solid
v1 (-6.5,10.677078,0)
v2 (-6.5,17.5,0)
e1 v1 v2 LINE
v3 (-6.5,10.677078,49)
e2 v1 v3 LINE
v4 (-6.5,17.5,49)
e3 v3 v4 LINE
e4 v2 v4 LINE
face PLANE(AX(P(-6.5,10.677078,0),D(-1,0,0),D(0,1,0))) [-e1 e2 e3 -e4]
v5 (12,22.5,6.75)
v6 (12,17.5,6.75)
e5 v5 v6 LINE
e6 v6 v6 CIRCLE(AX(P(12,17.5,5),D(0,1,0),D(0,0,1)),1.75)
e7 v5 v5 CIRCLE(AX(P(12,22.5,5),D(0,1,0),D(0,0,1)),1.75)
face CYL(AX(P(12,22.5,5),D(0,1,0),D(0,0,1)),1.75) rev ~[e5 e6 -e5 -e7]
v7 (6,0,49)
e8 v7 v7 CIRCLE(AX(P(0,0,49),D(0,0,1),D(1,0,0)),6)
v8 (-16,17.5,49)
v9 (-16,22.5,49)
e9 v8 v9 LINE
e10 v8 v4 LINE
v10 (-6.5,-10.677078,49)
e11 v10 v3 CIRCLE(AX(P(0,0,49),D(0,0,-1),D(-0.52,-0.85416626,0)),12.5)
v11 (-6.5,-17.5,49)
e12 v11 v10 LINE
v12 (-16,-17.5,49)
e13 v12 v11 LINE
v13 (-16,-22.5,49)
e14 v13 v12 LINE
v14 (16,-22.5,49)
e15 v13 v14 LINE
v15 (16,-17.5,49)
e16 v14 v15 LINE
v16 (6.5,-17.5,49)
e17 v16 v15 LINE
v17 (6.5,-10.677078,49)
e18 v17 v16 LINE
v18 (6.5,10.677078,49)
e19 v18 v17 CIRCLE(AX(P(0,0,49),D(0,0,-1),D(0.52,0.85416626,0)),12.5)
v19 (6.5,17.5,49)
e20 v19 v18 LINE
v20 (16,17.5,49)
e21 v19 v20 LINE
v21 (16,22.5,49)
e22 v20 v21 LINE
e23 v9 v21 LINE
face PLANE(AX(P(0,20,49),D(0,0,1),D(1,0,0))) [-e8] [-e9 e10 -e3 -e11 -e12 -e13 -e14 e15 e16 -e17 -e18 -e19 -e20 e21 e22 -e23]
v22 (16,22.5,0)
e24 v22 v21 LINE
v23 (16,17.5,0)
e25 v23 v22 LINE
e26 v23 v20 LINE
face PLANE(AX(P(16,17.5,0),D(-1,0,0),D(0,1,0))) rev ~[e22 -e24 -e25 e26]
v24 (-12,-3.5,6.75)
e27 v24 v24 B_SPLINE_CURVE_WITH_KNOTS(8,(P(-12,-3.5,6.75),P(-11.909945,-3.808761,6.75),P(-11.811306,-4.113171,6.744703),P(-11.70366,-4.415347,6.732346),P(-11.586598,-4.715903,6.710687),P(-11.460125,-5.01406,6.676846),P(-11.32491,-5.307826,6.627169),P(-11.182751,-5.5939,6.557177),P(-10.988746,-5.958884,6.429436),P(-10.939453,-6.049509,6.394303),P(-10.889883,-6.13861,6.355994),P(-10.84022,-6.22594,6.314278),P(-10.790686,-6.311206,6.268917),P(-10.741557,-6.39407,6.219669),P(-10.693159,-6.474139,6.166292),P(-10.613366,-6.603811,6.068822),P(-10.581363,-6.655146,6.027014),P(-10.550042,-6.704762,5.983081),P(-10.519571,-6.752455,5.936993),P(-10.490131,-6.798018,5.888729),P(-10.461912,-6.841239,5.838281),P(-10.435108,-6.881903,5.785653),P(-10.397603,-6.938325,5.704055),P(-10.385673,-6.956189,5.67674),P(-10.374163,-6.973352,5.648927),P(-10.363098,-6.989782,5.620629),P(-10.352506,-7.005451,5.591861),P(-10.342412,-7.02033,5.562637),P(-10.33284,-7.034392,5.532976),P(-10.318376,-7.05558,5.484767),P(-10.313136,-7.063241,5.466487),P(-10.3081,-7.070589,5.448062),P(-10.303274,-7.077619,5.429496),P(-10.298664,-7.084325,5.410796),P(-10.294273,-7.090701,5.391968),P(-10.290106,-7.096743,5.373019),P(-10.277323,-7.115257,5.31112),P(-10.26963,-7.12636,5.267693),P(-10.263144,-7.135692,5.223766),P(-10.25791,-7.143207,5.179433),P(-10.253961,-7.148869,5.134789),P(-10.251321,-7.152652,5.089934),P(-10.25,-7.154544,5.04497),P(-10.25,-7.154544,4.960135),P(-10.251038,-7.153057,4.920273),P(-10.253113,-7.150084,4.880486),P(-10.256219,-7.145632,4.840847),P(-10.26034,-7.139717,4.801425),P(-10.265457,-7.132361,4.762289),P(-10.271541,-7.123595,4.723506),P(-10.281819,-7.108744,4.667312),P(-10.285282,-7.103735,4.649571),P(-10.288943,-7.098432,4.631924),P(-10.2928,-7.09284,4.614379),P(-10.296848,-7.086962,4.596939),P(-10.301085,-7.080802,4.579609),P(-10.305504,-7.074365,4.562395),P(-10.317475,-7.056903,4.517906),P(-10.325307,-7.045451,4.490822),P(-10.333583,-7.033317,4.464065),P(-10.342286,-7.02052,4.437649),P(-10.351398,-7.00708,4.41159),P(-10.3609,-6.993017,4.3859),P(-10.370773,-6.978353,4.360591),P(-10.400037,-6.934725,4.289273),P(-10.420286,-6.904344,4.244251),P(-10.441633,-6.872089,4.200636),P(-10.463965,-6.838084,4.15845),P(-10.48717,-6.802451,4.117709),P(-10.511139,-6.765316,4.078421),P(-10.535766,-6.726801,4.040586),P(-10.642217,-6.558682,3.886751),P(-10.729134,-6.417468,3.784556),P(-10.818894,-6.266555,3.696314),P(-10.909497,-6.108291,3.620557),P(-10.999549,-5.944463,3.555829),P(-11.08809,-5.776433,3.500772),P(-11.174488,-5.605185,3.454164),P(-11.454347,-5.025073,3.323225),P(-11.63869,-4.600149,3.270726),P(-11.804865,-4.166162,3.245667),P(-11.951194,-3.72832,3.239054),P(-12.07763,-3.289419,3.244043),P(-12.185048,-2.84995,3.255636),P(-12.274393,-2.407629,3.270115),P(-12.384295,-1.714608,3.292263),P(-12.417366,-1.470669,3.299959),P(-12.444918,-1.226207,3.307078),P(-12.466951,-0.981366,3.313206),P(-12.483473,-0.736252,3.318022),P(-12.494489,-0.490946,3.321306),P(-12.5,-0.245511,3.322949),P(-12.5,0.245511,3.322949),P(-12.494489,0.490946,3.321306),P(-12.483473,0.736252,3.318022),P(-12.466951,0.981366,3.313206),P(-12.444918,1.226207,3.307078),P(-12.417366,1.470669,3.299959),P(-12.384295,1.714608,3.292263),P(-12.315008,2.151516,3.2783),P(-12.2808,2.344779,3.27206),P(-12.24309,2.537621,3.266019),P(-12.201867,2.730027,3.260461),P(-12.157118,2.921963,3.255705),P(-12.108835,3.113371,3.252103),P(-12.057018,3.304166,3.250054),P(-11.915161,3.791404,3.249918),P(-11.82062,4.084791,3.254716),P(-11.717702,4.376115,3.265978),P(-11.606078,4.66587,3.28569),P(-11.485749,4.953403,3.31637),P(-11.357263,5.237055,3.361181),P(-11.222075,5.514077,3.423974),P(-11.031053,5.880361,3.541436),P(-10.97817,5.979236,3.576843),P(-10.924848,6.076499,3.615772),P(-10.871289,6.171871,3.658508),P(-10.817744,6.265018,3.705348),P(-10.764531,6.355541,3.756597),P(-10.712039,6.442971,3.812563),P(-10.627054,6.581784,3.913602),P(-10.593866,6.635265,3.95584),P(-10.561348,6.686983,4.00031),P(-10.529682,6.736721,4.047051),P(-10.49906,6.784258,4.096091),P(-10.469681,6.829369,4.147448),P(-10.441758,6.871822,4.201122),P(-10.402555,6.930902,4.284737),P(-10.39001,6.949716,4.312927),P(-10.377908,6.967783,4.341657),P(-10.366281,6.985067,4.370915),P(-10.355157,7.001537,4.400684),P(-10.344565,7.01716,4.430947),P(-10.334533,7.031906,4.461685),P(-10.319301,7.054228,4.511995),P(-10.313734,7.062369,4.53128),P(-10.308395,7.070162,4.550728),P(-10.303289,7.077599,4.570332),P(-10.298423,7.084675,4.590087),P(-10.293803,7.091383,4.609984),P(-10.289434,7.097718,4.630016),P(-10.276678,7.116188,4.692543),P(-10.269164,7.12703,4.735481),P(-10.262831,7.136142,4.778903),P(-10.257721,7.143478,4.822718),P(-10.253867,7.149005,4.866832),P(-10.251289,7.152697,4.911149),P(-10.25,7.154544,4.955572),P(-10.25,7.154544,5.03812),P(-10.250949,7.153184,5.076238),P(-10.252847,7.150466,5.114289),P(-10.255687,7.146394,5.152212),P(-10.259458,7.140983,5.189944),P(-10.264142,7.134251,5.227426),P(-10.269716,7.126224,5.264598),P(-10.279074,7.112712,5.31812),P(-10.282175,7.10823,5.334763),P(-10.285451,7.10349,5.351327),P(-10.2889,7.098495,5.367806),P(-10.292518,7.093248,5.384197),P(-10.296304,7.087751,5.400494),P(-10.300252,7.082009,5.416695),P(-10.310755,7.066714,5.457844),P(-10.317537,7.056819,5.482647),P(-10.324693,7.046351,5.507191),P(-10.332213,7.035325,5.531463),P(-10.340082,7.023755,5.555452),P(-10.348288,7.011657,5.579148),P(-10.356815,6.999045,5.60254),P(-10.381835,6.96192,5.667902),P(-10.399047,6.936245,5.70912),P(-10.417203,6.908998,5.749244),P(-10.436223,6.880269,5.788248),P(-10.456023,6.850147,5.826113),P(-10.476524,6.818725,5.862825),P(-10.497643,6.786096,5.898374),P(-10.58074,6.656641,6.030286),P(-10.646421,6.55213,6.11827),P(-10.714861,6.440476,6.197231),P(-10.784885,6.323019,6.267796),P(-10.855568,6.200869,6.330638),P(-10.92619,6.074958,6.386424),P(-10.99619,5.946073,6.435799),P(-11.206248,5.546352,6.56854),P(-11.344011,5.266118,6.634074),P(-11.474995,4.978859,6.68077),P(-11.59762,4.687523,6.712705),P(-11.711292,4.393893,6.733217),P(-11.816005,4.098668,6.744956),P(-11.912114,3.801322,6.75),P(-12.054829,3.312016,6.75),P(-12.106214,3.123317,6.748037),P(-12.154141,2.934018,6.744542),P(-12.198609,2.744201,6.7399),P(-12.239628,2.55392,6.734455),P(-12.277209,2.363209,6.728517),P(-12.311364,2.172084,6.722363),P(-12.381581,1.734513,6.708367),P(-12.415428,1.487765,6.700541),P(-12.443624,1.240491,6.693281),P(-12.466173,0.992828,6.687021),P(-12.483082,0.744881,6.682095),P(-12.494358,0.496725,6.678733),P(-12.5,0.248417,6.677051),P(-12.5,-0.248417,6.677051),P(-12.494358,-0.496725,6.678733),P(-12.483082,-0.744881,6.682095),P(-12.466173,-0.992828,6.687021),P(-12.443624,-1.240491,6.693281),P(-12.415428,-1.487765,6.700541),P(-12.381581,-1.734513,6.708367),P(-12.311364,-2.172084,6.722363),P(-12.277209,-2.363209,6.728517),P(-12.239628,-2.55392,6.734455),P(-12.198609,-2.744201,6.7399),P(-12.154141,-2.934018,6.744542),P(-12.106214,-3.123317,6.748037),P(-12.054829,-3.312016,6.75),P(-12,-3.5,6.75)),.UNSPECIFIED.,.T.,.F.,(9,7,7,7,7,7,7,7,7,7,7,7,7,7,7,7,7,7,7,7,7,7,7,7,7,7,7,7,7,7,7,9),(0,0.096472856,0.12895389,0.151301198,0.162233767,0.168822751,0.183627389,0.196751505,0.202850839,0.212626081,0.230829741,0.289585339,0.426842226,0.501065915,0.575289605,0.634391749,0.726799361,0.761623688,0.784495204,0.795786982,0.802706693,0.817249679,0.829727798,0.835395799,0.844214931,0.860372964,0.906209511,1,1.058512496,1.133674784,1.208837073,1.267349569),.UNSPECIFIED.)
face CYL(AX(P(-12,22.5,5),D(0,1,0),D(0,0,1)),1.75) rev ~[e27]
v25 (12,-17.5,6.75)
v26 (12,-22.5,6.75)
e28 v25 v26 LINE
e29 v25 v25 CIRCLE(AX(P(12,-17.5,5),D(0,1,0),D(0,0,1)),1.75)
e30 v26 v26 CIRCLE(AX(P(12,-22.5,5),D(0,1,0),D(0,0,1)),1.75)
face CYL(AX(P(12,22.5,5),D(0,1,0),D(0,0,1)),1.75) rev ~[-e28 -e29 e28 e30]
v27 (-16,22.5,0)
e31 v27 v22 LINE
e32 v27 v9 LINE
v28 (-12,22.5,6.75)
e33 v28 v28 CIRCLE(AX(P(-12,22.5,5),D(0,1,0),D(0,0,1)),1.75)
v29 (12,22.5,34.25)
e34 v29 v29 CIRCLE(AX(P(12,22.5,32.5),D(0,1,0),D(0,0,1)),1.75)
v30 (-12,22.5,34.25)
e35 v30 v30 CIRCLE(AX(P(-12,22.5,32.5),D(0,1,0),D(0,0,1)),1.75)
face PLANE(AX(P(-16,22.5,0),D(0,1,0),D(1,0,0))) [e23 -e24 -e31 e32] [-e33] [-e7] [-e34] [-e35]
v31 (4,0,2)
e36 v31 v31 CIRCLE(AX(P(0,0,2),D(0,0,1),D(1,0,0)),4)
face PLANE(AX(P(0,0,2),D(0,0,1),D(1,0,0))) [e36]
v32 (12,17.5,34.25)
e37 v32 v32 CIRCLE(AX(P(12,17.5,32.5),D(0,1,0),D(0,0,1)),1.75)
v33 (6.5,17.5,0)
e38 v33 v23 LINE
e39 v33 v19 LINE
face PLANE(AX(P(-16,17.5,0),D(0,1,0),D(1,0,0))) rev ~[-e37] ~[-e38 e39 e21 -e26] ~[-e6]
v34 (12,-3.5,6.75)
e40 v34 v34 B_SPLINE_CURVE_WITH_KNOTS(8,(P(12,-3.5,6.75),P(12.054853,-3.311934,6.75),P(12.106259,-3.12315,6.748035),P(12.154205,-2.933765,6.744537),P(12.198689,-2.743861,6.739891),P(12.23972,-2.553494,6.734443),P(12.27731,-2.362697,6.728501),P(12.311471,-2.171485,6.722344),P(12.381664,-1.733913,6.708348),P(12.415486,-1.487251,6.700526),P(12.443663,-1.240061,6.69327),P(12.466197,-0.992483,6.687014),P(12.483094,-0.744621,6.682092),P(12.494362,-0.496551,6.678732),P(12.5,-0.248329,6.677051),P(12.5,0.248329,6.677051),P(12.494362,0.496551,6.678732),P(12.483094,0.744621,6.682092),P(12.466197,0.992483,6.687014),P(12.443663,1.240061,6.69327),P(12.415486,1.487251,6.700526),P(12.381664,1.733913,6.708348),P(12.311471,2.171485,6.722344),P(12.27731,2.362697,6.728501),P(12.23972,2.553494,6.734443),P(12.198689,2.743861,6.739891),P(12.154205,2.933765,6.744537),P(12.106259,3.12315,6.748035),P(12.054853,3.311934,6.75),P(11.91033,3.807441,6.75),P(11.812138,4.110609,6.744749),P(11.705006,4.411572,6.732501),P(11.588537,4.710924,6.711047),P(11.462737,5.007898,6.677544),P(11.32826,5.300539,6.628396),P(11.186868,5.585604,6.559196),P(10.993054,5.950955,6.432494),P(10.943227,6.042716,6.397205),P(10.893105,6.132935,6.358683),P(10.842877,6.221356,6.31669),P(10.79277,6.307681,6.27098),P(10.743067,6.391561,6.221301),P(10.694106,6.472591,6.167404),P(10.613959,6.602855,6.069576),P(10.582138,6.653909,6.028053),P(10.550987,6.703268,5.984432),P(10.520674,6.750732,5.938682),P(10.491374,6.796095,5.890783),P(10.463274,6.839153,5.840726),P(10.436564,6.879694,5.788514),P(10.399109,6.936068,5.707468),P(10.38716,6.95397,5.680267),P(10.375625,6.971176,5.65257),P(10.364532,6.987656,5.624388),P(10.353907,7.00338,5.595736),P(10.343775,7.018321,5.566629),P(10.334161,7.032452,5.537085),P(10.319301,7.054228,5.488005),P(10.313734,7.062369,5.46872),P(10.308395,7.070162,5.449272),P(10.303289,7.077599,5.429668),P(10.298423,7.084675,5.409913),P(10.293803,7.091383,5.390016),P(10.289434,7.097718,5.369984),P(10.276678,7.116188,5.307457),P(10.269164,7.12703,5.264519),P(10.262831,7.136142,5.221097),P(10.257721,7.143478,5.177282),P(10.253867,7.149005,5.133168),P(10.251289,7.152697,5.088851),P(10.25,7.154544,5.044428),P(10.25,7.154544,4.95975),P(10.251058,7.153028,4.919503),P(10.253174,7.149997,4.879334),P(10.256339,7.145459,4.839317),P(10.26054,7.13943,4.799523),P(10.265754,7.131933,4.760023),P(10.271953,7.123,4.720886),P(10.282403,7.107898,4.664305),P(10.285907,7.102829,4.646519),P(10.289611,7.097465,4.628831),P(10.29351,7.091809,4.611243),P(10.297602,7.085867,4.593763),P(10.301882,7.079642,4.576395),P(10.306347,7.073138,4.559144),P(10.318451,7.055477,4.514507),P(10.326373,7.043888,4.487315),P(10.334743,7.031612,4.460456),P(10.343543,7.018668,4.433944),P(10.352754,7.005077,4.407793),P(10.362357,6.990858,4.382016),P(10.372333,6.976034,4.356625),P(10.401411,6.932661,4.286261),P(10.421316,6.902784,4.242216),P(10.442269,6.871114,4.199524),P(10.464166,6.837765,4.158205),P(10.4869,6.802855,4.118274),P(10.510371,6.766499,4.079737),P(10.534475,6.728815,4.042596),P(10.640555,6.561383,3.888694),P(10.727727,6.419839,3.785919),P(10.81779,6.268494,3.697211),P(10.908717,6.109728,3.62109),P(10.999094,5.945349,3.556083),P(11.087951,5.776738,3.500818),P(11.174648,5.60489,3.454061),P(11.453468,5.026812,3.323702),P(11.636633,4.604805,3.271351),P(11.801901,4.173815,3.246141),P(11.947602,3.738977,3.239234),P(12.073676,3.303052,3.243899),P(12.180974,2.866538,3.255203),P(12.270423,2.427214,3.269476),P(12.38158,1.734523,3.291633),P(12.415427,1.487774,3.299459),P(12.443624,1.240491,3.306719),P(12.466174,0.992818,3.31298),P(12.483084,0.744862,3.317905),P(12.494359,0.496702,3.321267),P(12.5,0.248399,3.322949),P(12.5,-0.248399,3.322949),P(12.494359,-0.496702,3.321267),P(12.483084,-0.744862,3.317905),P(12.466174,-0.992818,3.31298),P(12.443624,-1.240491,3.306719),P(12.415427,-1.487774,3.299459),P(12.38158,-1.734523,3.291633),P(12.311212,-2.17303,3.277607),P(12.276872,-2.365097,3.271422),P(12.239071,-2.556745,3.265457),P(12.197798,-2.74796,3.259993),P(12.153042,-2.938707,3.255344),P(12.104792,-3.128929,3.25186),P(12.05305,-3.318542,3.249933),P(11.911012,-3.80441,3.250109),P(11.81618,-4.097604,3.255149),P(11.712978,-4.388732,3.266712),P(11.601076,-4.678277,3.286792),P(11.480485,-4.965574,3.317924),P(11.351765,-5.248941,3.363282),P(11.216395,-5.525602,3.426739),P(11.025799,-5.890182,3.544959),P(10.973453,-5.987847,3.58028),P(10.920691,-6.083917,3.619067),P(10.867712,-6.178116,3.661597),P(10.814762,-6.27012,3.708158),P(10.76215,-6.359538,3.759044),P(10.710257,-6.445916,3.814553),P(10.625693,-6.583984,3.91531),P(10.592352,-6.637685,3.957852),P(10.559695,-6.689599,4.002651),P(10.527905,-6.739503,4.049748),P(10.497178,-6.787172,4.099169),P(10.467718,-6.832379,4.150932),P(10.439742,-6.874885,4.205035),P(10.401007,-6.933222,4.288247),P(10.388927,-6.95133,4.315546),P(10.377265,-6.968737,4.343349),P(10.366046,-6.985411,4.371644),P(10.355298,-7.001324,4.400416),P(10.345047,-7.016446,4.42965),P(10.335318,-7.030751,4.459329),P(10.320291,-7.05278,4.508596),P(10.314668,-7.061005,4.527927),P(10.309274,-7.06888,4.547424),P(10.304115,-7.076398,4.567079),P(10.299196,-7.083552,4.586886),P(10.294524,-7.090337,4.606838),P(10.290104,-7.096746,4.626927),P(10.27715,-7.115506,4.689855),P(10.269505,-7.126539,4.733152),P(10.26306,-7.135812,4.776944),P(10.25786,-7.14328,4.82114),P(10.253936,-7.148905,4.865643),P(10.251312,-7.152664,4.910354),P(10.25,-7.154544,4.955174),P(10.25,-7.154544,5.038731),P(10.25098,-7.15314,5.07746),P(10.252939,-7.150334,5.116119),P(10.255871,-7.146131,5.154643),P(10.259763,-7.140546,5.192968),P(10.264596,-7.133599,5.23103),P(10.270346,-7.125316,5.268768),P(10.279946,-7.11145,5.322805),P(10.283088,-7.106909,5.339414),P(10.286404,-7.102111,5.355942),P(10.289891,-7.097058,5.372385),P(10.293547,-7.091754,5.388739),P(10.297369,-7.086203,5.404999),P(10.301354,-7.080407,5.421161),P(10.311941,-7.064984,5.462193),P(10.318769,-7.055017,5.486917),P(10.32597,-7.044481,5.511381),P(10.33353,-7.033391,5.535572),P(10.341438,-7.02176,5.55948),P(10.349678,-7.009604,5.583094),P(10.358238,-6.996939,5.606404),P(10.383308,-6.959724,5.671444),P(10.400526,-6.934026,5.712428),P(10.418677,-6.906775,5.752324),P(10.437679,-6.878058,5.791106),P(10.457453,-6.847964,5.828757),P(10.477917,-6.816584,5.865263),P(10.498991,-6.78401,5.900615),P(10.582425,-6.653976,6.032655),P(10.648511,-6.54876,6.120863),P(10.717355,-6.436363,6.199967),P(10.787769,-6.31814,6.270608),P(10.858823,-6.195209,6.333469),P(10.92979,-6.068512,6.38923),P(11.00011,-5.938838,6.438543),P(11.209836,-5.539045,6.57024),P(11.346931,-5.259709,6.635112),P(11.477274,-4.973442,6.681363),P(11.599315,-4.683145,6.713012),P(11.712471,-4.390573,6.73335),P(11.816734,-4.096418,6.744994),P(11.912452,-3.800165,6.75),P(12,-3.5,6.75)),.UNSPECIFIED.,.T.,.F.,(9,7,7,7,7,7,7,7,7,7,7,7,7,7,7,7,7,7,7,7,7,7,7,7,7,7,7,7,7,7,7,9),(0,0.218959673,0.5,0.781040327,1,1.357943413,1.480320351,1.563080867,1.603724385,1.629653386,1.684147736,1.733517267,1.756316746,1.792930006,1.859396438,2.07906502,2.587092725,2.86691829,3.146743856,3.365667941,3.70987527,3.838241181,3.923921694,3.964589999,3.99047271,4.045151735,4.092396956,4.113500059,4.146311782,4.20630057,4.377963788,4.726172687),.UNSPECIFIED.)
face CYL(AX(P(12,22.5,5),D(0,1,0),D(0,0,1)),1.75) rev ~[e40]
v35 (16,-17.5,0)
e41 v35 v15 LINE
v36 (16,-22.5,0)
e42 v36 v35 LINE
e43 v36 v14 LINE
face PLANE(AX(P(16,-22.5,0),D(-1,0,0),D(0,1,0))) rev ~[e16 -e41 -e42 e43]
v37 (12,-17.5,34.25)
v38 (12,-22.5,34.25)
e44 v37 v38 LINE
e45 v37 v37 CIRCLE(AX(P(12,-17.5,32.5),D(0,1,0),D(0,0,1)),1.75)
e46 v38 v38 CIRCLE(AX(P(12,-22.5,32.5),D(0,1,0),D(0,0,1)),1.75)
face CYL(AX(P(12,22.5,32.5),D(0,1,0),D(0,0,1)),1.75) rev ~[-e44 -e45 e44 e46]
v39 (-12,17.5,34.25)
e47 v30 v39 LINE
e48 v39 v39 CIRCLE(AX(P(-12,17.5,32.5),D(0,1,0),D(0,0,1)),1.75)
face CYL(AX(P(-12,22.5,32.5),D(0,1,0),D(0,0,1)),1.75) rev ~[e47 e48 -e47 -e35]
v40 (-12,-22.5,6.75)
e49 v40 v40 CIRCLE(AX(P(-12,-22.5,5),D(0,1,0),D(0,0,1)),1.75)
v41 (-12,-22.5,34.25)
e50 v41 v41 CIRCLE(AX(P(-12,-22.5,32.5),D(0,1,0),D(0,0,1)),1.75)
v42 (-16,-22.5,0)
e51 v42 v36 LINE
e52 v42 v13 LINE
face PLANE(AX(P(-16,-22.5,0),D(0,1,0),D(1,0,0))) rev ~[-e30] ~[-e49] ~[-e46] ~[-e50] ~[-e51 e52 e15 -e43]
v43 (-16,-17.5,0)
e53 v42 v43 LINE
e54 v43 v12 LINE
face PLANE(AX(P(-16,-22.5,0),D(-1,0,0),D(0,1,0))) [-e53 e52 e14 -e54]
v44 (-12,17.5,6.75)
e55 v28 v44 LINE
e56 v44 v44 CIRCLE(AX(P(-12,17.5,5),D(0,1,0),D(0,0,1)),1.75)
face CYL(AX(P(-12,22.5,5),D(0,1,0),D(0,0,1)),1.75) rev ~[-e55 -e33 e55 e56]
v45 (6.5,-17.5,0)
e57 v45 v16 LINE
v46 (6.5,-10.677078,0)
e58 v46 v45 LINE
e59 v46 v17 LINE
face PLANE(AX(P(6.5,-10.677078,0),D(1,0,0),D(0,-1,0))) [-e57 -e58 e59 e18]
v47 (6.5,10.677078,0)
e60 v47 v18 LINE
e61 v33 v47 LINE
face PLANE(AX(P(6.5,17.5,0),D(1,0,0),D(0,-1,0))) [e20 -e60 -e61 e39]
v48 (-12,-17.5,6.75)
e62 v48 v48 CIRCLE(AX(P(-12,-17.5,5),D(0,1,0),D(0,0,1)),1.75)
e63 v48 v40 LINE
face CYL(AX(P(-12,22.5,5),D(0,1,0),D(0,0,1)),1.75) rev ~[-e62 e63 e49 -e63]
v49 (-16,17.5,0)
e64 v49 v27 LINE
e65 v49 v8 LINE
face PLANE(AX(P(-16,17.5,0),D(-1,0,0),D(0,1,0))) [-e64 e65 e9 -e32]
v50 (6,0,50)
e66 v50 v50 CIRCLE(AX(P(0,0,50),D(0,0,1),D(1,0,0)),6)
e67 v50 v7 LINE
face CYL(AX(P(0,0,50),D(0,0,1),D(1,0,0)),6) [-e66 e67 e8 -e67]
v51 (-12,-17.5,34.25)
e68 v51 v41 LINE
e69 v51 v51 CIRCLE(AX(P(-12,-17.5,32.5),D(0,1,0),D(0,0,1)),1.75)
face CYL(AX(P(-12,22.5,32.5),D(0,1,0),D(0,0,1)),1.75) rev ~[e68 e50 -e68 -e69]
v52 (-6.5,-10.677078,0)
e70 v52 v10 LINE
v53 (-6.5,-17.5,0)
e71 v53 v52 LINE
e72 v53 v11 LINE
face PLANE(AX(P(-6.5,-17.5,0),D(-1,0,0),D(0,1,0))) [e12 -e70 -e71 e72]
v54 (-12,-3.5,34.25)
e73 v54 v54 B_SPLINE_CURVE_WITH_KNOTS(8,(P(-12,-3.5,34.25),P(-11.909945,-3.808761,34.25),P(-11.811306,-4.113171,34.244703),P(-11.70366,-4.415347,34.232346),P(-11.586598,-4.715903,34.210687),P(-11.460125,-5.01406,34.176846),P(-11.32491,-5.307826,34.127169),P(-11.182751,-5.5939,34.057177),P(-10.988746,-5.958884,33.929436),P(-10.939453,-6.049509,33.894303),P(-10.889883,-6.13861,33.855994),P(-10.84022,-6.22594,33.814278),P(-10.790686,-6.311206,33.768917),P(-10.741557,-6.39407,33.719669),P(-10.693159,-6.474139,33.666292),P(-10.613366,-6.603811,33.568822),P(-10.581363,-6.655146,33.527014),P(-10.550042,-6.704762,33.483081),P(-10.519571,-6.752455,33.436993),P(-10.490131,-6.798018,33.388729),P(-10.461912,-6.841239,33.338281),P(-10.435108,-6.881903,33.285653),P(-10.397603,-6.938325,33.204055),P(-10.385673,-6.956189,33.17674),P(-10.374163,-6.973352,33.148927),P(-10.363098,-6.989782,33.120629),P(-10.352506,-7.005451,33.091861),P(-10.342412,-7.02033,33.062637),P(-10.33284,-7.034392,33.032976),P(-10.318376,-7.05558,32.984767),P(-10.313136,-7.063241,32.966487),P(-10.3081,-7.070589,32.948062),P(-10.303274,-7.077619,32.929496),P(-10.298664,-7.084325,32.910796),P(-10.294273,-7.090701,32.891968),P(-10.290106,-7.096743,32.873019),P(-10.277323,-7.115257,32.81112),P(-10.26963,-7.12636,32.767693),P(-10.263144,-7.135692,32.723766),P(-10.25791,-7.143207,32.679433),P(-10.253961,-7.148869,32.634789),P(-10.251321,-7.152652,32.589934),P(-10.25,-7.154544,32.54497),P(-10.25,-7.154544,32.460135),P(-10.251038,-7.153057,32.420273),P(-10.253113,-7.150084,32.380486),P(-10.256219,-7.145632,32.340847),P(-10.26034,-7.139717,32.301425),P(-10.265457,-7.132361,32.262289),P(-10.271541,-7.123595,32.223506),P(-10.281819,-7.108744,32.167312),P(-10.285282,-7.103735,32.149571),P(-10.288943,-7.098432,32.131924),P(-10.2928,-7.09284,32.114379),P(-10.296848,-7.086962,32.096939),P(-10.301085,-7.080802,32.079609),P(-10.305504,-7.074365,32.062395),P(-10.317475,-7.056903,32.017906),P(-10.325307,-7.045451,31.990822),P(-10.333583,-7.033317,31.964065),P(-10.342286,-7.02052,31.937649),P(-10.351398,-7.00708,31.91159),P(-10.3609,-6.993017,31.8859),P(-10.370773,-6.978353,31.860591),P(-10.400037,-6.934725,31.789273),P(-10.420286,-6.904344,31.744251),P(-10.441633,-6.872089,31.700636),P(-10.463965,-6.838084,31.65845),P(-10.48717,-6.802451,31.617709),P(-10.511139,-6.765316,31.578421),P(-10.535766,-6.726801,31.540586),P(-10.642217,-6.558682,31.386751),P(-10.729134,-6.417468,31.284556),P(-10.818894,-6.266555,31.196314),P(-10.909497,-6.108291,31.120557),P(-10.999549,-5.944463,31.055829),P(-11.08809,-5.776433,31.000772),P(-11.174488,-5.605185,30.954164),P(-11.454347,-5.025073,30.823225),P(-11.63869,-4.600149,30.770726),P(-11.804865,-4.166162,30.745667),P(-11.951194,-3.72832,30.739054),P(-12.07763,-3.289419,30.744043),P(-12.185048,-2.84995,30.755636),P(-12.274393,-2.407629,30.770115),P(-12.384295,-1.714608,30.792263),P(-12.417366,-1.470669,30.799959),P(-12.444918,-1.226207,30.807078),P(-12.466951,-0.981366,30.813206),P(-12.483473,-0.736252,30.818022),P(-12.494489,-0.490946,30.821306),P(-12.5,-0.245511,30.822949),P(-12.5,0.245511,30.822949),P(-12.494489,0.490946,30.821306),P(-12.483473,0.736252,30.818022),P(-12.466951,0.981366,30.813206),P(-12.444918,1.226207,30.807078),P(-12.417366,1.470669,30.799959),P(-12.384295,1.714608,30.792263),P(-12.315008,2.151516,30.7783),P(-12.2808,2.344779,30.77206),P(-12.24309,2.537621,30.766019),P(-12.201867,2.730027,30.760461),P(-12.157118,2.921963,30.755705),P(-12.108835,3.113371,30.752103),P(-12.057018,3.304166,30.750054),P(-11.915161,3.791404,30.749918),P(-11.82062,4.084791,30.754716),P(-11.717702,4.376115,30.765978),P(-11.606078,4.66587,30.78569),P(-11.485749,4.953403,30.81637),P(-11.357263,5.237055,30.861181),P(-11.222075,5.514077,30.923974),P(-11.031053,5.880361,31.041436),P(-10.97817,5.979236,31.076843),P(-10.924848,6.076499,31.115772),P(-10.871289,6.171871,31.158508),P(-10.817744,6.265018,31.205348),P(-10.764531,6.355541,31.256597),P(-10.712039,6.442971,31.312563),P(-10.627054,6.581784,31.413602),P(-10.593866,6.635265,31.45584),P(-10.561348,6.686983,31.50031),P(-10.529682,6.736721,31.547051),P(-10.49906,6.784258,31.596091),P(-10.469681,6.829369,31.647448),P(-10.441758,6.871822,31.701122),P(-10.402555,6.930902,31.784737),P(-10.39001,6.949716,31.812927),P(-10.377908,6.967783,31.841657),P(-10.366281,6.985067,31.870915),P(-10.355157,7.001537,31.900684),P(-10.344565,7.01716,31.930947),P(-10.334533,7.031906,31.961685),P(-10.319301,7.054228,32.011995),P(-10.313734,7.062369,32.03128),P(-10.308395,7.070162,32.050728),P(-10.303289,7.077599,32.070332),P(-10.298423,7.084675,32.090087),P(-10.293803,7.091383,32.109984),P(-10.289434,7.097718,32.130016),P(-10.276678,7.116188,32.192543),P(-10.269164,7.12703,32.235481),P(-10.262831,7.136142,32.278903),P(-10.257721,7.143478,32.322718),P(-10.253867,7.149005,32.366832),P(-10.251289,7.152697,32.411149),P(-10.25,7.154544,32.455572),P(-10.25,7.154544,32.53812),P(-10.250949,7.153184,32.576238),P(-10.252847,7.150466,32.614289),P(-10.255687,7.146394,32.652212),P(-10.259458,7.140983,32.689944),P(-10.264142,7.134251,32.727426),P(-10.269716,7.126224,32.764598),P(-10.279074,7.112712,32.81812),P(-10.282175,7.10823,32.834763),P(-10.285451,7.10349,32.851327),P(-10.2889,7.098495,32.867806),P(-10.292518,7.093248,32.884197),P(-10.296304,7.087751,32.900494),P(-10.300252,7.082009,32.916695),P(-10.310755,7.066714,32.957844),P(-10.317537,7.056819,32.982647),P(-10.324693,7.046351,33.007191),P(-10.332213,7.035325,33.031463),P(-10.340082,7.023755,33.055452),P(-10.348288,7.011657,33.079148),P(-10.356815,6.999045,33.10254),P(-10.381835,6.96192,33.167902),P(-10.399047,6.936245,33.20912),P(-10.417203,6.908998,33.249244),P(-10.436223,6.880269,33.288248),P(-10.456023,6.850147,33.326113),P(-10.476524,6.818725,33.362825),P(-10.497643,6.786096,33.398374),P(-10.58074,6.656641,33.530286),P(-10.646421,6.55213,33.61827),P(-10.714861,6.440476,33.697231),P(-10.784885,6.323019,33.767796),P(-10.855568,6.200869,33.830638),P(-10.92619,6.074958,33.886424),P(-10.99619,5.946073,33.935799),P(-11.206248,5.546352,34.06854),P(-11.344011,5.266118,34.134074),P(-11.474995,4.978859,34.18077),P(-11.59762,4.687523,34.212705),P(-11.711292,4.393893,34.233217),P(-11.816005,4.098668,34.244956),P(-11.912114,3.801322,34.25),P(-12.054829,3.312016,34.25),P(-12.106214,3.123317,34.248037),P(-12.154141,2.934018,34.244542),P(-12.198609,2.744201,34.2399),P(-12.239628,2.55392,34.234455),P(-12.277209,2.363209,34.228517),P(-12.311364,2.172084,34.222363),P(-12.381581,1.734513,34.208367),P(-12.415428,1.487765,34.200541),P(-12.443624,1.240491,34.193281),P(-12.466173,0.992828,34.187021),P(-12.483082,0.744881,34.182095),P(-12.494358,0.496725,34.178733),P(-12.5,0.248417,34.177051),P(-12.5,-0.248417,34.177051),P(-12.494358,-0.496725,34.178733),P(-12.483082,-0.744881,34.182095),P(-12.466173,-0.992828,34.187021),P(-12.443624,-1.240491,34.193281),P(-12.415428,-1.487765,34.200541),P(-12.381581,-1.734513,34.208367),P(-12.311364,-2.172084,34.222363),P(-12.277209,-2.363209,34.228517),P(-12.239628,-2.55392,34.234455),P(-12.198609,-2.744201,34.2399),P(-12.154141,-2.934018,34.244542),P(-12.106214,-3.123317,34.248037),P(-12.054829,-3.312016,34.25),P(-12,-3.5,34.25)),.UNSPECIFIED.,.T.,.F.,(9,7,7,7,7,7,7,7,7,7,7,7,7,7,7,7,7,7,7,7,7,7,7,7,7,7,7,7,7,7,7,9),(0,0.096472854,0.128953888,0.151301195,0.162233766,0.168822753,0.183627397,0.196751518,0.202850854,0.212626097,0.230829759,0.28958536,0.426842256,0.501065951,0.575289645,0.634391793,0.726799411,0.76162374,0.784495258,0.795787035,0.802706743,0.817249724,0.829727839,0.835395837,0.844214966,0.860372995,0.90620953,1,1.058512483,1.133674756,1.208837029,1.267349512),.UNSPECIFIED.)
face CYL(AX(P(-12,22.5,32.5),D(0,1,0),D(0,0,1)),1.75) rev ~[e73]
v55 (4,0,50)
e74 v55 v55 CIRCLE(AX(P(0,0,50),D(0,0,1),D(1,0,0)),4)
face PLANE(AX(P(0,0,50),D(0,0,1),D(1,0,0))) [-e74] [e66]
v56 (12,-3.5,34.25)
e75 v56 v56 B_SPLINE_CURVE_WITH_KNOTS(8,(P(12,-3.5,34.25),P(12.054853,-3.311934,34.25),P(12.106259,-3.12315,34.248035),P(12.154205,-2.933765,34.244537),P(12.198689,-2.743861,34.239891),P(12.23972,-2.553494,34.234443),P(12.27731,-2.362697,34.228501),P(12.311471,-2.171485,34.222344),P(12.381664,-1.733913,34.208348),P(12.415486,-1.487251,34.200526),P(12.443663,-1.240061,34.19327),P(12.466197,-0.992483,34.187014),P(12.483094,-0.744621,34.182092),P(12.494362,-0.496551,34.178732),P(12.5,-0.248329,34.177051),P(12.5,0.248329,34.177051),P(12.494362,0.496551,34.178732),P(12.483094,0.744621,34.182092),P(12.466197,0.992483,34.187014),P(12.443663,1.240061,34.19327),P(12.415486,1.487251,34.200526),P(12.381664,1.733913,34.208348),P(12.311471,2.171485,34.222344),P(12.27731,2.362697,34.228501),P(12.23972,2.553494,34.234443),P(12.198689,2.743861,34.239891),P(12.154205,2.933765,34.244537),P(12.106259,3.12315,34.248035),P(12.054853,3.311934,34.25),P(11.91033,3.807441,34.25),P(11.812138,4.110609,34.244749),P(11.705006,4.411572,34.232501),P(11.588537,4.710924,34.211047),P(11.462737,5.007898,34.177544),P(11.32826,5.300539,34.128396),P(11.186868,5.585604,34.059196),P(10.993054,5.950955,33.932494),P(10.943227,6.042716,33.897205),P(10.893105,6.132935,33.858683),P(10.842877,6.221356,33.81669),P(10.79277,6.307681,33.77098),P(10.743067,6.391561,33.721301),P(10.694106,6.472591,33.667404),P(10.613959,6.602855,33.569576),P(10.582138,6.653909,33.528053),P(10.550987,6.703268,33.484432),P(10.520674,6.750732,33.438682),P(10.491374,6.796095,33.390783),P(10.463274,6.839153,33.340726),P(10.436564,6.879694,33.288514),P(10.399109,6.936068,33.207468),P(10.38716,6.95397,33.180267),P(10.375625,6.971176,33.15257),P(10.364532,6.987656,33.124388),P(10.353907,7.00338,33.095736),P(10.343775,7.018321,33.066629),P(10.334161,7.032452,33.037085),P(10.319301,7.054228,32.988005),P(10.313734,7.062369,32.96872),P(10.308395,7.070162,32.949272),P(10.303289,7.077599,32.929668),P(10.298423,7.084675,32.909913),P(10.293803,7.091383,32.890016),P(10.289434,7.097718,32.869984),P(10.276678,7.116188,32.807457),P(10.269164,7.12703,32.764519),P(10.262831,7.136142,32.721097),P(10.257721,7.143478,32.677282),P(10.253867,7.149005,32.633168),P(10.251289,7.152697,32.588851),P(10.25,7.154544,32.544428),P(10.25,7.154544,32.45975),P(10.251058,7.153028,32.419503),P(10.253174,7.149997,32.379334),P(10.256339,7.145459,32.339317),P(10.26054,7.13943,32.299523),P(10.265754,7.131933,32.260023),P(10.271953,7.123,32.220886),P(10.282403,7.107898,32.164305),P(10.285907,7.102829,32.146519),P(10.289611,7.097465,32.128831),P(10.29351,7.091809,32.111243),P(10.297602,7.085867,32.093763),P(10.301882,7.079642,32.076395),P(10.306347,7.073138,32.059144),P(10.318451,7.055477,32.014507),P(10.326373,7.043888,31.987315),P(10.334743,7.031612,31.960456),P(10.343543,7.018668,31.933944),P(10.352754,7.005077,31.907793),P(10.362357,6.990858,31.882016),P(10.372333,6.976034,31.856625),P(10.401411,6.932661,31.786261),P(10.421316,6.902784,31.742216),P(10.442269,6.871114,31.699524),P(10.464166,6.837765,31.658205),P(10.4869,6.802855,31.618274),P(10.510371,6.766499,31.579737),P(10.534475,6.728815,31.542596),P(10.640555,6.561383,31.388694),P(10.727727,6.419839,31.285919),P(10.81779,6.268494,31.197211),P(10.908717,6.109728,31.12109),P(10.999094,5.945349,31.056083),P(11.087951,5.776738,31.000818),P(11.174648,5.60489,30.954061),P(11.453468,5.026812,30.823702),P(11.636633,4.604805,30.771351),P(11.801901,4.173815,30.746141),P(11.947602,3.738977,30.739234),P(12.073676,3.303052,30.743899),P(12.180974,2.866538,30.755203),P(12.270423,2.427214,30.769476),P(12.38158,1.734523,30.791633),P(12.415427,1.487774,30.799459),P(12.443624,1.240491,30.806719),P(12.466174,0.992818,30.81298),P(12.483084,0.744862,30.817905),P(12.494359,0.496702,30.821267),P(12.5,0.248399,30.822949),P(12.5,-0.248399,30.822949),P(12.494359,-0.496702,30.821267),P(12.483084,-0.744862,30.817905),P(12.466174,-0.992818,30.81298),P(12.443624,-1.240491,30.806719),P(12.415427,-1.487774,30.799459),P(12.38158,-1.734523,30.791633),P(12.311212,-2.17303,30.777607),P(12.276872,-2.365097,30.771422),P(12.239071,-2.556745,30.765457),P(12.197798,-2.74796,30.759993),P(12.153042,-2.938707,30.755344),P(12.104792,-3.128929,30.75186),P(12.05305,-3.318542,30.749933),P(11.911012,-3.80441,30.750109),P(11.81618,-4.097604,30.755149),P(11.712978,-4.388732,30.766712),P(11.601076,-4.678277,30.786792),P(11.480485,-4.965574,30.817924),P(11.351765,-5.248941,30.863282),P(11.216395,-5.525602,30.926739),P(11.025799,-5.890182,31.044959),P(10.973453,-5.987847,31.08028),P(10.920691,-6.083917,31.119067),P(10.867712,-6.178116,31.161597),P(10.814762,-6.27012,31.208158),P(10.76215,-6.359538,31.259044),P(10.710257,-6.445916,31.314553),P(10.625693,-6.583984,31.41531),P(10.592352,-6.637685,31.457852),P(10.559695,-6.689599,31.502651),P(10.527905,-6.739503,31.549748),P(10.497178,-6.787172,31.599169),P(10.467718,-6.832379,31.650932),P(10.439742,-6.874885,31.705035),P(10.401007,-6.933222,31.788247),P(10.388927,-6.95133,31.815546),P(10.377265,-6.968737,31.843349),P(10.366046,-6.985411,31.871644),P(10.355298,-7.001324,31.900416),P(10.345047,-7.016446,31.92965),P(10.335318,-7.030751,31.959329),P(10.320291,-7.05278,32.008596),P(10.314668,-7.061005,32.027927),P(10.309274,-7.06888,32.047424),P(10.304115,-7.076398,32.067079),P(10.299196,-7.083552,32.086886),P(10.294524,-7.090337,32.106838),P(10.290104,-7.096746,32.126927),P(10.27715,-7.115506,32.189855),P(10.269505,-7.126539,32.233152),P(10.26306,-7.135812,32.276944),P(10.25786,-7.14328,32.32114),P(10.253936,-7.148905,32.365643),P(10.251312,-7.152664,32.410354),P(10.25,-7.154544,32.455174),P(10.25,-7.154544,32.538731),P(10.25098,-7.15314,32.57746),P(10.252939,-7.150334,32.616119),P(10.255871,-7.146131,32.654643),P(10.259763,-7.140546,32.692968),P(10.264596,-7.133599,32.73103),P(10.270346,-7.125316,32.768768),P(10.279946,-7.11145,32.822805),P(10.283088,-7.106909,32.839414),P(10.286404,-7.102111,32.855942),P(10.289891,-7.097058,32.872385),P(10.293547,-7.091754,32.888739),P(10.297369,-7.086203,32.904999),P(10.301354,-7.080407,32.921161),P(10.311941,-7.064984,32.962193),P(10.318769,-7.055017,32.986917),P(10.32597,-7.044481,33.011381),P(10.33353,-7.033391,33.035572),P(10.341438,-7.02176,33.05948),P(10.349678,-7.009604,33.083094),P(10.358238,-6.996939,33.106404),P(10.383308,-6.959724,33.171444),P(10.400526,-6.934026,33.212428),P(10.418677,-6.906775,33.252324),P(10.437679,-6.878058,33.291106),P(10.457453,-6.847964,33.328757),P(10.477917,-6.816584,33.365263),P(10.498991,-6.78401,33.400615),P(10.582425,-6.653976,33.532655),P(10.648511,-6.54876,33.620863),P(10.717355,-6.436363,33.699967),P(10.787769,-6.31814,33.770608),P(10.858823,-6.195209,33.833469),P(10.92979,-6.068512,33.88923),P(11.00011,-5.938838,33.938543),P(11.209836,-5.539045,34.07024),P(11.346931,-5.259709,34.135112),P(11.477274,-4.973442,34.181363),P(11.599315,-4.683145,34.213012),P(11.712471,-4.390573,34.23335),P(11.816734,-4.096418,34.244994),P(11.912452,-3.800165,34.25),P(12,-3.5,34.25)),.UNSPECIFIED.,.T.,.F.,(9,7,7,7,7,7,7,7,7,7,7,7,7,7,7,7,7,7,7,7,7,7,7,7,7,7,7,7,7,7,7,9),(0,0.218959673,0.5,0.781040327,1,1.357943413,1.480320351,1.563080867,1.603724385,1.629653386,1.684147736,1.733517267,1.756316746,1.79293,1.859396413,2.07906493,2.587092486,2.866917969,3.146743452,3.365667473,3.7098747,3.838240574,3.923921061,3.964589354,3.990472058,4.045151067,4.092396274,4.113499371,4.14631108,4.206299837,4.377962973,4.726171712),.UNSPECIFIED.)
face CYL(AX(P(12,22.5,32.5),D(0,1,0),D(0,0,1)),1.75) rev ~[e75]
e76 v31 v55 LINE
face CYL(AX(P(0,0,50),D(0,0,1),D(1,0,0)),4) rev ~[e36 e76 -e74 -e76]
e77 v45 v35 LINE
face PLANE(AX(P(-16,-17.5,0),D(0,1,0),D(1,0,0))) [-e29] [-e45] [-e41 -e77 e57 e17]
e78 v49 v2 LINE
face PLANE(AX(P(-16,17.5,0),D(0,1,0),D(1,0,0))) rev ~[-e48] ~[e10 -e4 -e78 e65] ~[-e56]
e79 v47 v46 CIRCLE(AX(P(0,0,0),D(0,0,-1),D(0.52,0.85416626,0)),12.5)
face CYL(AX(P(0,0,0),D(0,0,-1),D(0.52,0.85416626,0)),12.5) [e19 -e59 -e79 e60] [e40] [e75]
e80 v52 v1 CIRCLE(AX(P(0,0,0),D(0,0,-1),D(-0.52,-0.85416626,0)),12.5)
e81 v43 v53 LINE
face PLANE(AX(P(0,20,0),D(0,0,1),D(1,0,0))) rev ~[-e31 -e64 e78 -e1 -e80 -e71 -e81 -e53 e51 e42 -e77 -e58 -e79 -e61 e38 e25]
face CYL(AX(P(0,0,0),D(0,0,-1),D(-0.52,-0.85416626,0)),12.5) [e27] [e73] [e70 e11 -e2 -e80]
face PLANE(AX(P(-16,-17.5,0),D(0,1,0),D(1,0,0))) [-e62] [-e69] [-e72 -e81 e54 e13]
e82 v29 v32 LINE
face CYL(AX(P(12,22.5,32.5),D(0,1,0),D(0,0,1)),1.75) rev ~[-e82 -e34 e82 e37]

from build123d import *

# Parameters (mm, degrees)
BOSS_EXTRUDE1_DEPTH = 49
SKETCH2_R           = 4
CUT_EXTRUDE1_DEPTH  = 47
SKETCH7_W           = 32
SKETCH7_H           = 5
BOSS_EXTRUDE2_DEPTH = 49
SKETCH8_R           = 1.75
CUT_EXTRUDE4_DEPTH  = 69.425141578
BOSS_EXTRUDE3_START = 1
SKETCH9_R           = 6
SKETCH9_R_2         = 4
BOSS_EXTRUDE3_DEPTH = 1


with BuildPart() as part:
    # Sketch1 → Boss-Extrude1 (new body)
    with BuildSketch(Plane.XY):
        with BuildLine():
            Line((-6.5, 17.5), (6.5, 17.5))
            Line((6.5, 17.5), (6.5, 10.677078252))
            ThreePointArc((6.5, 10.677078252), (12.5, 0), (6.5, -10.677078252))
            Line((6.5, -10.677078252), (6.5, -17.5))
            Line((6.5, -17.5), (-6.5, -17.5))
            Line((-6.5, -17.5), (-6.5, -10.677078252))
            ThreePointArc((-6.5, -10.677078252), (-12.5, 0), (-6.5, 10.677078252))
            Line((-6.5, 10.677078252), (-6.5, 17.5))
        make_face()
    extrude(amount=BOSS_EXTRUDE1_DEPTH)

    # Sketch2 → Cut-Extrude1 (cut)
    with BuildSketch(Plane.XY.offset(49)):
        Circle(SKETCH2_R)
    extrude(amount=-CUT_EXTRUDE1_DEPTH, mode=Mode.SUBTRACT)

    # Sketch7 → Boss-Extrude2 (add)
    with BuildSketch(Plane.XY):
        with Locations((0, 20)):
            Rectangle(SKETCH7_W, SKETCH7_H)
        with Locations((0, -20)):
            Rectangle(SKETCH7_W, SKETCH7_H)
    extrude(amount=BOSS_EXTRUDE2_DEPTH)

    # Sketch8 → Cut-Extrude4 (cut, through all)
    with BuildSketch(Plane(origin=(0, 22.5, 0), x_dir=(1, 0, 0), z_dir=(0, 1, 0))):
        with Locations(Location((-12, -5, 0), (0, 0, 270))):
            Circle(SKETCH8_R)
        with Locations(Location((-12, -32.5, 0), (0, 0, 270))):
            Circle(SKETCH8_R)
        with Locations(Location((12, -32.5, 0), (0, 0, 270))):
            Circle(SKETCH8_R)
        with Locations(Location((12, -5, 0), (0, 0, 270))):
            Circle(SKETCH8_R)
    extrude(amount=-CUT_EXTRUDE4_DEPTH, mode=Mode.SUBTRACT)

    # Sketch9 → Boss-Extrude3 (add)
    with BuildSketch(Plane.XY.offset(49).offset(BOSS_EXTRUDE3_START)):
        Circle(SKETCH9_R)
        Circle(SKETCH9_R_2, mode=Mode.SUBTRACT)
    extrude(amount=-BOSS_EXTRUDE3_DEPTH)


solid = part.part
